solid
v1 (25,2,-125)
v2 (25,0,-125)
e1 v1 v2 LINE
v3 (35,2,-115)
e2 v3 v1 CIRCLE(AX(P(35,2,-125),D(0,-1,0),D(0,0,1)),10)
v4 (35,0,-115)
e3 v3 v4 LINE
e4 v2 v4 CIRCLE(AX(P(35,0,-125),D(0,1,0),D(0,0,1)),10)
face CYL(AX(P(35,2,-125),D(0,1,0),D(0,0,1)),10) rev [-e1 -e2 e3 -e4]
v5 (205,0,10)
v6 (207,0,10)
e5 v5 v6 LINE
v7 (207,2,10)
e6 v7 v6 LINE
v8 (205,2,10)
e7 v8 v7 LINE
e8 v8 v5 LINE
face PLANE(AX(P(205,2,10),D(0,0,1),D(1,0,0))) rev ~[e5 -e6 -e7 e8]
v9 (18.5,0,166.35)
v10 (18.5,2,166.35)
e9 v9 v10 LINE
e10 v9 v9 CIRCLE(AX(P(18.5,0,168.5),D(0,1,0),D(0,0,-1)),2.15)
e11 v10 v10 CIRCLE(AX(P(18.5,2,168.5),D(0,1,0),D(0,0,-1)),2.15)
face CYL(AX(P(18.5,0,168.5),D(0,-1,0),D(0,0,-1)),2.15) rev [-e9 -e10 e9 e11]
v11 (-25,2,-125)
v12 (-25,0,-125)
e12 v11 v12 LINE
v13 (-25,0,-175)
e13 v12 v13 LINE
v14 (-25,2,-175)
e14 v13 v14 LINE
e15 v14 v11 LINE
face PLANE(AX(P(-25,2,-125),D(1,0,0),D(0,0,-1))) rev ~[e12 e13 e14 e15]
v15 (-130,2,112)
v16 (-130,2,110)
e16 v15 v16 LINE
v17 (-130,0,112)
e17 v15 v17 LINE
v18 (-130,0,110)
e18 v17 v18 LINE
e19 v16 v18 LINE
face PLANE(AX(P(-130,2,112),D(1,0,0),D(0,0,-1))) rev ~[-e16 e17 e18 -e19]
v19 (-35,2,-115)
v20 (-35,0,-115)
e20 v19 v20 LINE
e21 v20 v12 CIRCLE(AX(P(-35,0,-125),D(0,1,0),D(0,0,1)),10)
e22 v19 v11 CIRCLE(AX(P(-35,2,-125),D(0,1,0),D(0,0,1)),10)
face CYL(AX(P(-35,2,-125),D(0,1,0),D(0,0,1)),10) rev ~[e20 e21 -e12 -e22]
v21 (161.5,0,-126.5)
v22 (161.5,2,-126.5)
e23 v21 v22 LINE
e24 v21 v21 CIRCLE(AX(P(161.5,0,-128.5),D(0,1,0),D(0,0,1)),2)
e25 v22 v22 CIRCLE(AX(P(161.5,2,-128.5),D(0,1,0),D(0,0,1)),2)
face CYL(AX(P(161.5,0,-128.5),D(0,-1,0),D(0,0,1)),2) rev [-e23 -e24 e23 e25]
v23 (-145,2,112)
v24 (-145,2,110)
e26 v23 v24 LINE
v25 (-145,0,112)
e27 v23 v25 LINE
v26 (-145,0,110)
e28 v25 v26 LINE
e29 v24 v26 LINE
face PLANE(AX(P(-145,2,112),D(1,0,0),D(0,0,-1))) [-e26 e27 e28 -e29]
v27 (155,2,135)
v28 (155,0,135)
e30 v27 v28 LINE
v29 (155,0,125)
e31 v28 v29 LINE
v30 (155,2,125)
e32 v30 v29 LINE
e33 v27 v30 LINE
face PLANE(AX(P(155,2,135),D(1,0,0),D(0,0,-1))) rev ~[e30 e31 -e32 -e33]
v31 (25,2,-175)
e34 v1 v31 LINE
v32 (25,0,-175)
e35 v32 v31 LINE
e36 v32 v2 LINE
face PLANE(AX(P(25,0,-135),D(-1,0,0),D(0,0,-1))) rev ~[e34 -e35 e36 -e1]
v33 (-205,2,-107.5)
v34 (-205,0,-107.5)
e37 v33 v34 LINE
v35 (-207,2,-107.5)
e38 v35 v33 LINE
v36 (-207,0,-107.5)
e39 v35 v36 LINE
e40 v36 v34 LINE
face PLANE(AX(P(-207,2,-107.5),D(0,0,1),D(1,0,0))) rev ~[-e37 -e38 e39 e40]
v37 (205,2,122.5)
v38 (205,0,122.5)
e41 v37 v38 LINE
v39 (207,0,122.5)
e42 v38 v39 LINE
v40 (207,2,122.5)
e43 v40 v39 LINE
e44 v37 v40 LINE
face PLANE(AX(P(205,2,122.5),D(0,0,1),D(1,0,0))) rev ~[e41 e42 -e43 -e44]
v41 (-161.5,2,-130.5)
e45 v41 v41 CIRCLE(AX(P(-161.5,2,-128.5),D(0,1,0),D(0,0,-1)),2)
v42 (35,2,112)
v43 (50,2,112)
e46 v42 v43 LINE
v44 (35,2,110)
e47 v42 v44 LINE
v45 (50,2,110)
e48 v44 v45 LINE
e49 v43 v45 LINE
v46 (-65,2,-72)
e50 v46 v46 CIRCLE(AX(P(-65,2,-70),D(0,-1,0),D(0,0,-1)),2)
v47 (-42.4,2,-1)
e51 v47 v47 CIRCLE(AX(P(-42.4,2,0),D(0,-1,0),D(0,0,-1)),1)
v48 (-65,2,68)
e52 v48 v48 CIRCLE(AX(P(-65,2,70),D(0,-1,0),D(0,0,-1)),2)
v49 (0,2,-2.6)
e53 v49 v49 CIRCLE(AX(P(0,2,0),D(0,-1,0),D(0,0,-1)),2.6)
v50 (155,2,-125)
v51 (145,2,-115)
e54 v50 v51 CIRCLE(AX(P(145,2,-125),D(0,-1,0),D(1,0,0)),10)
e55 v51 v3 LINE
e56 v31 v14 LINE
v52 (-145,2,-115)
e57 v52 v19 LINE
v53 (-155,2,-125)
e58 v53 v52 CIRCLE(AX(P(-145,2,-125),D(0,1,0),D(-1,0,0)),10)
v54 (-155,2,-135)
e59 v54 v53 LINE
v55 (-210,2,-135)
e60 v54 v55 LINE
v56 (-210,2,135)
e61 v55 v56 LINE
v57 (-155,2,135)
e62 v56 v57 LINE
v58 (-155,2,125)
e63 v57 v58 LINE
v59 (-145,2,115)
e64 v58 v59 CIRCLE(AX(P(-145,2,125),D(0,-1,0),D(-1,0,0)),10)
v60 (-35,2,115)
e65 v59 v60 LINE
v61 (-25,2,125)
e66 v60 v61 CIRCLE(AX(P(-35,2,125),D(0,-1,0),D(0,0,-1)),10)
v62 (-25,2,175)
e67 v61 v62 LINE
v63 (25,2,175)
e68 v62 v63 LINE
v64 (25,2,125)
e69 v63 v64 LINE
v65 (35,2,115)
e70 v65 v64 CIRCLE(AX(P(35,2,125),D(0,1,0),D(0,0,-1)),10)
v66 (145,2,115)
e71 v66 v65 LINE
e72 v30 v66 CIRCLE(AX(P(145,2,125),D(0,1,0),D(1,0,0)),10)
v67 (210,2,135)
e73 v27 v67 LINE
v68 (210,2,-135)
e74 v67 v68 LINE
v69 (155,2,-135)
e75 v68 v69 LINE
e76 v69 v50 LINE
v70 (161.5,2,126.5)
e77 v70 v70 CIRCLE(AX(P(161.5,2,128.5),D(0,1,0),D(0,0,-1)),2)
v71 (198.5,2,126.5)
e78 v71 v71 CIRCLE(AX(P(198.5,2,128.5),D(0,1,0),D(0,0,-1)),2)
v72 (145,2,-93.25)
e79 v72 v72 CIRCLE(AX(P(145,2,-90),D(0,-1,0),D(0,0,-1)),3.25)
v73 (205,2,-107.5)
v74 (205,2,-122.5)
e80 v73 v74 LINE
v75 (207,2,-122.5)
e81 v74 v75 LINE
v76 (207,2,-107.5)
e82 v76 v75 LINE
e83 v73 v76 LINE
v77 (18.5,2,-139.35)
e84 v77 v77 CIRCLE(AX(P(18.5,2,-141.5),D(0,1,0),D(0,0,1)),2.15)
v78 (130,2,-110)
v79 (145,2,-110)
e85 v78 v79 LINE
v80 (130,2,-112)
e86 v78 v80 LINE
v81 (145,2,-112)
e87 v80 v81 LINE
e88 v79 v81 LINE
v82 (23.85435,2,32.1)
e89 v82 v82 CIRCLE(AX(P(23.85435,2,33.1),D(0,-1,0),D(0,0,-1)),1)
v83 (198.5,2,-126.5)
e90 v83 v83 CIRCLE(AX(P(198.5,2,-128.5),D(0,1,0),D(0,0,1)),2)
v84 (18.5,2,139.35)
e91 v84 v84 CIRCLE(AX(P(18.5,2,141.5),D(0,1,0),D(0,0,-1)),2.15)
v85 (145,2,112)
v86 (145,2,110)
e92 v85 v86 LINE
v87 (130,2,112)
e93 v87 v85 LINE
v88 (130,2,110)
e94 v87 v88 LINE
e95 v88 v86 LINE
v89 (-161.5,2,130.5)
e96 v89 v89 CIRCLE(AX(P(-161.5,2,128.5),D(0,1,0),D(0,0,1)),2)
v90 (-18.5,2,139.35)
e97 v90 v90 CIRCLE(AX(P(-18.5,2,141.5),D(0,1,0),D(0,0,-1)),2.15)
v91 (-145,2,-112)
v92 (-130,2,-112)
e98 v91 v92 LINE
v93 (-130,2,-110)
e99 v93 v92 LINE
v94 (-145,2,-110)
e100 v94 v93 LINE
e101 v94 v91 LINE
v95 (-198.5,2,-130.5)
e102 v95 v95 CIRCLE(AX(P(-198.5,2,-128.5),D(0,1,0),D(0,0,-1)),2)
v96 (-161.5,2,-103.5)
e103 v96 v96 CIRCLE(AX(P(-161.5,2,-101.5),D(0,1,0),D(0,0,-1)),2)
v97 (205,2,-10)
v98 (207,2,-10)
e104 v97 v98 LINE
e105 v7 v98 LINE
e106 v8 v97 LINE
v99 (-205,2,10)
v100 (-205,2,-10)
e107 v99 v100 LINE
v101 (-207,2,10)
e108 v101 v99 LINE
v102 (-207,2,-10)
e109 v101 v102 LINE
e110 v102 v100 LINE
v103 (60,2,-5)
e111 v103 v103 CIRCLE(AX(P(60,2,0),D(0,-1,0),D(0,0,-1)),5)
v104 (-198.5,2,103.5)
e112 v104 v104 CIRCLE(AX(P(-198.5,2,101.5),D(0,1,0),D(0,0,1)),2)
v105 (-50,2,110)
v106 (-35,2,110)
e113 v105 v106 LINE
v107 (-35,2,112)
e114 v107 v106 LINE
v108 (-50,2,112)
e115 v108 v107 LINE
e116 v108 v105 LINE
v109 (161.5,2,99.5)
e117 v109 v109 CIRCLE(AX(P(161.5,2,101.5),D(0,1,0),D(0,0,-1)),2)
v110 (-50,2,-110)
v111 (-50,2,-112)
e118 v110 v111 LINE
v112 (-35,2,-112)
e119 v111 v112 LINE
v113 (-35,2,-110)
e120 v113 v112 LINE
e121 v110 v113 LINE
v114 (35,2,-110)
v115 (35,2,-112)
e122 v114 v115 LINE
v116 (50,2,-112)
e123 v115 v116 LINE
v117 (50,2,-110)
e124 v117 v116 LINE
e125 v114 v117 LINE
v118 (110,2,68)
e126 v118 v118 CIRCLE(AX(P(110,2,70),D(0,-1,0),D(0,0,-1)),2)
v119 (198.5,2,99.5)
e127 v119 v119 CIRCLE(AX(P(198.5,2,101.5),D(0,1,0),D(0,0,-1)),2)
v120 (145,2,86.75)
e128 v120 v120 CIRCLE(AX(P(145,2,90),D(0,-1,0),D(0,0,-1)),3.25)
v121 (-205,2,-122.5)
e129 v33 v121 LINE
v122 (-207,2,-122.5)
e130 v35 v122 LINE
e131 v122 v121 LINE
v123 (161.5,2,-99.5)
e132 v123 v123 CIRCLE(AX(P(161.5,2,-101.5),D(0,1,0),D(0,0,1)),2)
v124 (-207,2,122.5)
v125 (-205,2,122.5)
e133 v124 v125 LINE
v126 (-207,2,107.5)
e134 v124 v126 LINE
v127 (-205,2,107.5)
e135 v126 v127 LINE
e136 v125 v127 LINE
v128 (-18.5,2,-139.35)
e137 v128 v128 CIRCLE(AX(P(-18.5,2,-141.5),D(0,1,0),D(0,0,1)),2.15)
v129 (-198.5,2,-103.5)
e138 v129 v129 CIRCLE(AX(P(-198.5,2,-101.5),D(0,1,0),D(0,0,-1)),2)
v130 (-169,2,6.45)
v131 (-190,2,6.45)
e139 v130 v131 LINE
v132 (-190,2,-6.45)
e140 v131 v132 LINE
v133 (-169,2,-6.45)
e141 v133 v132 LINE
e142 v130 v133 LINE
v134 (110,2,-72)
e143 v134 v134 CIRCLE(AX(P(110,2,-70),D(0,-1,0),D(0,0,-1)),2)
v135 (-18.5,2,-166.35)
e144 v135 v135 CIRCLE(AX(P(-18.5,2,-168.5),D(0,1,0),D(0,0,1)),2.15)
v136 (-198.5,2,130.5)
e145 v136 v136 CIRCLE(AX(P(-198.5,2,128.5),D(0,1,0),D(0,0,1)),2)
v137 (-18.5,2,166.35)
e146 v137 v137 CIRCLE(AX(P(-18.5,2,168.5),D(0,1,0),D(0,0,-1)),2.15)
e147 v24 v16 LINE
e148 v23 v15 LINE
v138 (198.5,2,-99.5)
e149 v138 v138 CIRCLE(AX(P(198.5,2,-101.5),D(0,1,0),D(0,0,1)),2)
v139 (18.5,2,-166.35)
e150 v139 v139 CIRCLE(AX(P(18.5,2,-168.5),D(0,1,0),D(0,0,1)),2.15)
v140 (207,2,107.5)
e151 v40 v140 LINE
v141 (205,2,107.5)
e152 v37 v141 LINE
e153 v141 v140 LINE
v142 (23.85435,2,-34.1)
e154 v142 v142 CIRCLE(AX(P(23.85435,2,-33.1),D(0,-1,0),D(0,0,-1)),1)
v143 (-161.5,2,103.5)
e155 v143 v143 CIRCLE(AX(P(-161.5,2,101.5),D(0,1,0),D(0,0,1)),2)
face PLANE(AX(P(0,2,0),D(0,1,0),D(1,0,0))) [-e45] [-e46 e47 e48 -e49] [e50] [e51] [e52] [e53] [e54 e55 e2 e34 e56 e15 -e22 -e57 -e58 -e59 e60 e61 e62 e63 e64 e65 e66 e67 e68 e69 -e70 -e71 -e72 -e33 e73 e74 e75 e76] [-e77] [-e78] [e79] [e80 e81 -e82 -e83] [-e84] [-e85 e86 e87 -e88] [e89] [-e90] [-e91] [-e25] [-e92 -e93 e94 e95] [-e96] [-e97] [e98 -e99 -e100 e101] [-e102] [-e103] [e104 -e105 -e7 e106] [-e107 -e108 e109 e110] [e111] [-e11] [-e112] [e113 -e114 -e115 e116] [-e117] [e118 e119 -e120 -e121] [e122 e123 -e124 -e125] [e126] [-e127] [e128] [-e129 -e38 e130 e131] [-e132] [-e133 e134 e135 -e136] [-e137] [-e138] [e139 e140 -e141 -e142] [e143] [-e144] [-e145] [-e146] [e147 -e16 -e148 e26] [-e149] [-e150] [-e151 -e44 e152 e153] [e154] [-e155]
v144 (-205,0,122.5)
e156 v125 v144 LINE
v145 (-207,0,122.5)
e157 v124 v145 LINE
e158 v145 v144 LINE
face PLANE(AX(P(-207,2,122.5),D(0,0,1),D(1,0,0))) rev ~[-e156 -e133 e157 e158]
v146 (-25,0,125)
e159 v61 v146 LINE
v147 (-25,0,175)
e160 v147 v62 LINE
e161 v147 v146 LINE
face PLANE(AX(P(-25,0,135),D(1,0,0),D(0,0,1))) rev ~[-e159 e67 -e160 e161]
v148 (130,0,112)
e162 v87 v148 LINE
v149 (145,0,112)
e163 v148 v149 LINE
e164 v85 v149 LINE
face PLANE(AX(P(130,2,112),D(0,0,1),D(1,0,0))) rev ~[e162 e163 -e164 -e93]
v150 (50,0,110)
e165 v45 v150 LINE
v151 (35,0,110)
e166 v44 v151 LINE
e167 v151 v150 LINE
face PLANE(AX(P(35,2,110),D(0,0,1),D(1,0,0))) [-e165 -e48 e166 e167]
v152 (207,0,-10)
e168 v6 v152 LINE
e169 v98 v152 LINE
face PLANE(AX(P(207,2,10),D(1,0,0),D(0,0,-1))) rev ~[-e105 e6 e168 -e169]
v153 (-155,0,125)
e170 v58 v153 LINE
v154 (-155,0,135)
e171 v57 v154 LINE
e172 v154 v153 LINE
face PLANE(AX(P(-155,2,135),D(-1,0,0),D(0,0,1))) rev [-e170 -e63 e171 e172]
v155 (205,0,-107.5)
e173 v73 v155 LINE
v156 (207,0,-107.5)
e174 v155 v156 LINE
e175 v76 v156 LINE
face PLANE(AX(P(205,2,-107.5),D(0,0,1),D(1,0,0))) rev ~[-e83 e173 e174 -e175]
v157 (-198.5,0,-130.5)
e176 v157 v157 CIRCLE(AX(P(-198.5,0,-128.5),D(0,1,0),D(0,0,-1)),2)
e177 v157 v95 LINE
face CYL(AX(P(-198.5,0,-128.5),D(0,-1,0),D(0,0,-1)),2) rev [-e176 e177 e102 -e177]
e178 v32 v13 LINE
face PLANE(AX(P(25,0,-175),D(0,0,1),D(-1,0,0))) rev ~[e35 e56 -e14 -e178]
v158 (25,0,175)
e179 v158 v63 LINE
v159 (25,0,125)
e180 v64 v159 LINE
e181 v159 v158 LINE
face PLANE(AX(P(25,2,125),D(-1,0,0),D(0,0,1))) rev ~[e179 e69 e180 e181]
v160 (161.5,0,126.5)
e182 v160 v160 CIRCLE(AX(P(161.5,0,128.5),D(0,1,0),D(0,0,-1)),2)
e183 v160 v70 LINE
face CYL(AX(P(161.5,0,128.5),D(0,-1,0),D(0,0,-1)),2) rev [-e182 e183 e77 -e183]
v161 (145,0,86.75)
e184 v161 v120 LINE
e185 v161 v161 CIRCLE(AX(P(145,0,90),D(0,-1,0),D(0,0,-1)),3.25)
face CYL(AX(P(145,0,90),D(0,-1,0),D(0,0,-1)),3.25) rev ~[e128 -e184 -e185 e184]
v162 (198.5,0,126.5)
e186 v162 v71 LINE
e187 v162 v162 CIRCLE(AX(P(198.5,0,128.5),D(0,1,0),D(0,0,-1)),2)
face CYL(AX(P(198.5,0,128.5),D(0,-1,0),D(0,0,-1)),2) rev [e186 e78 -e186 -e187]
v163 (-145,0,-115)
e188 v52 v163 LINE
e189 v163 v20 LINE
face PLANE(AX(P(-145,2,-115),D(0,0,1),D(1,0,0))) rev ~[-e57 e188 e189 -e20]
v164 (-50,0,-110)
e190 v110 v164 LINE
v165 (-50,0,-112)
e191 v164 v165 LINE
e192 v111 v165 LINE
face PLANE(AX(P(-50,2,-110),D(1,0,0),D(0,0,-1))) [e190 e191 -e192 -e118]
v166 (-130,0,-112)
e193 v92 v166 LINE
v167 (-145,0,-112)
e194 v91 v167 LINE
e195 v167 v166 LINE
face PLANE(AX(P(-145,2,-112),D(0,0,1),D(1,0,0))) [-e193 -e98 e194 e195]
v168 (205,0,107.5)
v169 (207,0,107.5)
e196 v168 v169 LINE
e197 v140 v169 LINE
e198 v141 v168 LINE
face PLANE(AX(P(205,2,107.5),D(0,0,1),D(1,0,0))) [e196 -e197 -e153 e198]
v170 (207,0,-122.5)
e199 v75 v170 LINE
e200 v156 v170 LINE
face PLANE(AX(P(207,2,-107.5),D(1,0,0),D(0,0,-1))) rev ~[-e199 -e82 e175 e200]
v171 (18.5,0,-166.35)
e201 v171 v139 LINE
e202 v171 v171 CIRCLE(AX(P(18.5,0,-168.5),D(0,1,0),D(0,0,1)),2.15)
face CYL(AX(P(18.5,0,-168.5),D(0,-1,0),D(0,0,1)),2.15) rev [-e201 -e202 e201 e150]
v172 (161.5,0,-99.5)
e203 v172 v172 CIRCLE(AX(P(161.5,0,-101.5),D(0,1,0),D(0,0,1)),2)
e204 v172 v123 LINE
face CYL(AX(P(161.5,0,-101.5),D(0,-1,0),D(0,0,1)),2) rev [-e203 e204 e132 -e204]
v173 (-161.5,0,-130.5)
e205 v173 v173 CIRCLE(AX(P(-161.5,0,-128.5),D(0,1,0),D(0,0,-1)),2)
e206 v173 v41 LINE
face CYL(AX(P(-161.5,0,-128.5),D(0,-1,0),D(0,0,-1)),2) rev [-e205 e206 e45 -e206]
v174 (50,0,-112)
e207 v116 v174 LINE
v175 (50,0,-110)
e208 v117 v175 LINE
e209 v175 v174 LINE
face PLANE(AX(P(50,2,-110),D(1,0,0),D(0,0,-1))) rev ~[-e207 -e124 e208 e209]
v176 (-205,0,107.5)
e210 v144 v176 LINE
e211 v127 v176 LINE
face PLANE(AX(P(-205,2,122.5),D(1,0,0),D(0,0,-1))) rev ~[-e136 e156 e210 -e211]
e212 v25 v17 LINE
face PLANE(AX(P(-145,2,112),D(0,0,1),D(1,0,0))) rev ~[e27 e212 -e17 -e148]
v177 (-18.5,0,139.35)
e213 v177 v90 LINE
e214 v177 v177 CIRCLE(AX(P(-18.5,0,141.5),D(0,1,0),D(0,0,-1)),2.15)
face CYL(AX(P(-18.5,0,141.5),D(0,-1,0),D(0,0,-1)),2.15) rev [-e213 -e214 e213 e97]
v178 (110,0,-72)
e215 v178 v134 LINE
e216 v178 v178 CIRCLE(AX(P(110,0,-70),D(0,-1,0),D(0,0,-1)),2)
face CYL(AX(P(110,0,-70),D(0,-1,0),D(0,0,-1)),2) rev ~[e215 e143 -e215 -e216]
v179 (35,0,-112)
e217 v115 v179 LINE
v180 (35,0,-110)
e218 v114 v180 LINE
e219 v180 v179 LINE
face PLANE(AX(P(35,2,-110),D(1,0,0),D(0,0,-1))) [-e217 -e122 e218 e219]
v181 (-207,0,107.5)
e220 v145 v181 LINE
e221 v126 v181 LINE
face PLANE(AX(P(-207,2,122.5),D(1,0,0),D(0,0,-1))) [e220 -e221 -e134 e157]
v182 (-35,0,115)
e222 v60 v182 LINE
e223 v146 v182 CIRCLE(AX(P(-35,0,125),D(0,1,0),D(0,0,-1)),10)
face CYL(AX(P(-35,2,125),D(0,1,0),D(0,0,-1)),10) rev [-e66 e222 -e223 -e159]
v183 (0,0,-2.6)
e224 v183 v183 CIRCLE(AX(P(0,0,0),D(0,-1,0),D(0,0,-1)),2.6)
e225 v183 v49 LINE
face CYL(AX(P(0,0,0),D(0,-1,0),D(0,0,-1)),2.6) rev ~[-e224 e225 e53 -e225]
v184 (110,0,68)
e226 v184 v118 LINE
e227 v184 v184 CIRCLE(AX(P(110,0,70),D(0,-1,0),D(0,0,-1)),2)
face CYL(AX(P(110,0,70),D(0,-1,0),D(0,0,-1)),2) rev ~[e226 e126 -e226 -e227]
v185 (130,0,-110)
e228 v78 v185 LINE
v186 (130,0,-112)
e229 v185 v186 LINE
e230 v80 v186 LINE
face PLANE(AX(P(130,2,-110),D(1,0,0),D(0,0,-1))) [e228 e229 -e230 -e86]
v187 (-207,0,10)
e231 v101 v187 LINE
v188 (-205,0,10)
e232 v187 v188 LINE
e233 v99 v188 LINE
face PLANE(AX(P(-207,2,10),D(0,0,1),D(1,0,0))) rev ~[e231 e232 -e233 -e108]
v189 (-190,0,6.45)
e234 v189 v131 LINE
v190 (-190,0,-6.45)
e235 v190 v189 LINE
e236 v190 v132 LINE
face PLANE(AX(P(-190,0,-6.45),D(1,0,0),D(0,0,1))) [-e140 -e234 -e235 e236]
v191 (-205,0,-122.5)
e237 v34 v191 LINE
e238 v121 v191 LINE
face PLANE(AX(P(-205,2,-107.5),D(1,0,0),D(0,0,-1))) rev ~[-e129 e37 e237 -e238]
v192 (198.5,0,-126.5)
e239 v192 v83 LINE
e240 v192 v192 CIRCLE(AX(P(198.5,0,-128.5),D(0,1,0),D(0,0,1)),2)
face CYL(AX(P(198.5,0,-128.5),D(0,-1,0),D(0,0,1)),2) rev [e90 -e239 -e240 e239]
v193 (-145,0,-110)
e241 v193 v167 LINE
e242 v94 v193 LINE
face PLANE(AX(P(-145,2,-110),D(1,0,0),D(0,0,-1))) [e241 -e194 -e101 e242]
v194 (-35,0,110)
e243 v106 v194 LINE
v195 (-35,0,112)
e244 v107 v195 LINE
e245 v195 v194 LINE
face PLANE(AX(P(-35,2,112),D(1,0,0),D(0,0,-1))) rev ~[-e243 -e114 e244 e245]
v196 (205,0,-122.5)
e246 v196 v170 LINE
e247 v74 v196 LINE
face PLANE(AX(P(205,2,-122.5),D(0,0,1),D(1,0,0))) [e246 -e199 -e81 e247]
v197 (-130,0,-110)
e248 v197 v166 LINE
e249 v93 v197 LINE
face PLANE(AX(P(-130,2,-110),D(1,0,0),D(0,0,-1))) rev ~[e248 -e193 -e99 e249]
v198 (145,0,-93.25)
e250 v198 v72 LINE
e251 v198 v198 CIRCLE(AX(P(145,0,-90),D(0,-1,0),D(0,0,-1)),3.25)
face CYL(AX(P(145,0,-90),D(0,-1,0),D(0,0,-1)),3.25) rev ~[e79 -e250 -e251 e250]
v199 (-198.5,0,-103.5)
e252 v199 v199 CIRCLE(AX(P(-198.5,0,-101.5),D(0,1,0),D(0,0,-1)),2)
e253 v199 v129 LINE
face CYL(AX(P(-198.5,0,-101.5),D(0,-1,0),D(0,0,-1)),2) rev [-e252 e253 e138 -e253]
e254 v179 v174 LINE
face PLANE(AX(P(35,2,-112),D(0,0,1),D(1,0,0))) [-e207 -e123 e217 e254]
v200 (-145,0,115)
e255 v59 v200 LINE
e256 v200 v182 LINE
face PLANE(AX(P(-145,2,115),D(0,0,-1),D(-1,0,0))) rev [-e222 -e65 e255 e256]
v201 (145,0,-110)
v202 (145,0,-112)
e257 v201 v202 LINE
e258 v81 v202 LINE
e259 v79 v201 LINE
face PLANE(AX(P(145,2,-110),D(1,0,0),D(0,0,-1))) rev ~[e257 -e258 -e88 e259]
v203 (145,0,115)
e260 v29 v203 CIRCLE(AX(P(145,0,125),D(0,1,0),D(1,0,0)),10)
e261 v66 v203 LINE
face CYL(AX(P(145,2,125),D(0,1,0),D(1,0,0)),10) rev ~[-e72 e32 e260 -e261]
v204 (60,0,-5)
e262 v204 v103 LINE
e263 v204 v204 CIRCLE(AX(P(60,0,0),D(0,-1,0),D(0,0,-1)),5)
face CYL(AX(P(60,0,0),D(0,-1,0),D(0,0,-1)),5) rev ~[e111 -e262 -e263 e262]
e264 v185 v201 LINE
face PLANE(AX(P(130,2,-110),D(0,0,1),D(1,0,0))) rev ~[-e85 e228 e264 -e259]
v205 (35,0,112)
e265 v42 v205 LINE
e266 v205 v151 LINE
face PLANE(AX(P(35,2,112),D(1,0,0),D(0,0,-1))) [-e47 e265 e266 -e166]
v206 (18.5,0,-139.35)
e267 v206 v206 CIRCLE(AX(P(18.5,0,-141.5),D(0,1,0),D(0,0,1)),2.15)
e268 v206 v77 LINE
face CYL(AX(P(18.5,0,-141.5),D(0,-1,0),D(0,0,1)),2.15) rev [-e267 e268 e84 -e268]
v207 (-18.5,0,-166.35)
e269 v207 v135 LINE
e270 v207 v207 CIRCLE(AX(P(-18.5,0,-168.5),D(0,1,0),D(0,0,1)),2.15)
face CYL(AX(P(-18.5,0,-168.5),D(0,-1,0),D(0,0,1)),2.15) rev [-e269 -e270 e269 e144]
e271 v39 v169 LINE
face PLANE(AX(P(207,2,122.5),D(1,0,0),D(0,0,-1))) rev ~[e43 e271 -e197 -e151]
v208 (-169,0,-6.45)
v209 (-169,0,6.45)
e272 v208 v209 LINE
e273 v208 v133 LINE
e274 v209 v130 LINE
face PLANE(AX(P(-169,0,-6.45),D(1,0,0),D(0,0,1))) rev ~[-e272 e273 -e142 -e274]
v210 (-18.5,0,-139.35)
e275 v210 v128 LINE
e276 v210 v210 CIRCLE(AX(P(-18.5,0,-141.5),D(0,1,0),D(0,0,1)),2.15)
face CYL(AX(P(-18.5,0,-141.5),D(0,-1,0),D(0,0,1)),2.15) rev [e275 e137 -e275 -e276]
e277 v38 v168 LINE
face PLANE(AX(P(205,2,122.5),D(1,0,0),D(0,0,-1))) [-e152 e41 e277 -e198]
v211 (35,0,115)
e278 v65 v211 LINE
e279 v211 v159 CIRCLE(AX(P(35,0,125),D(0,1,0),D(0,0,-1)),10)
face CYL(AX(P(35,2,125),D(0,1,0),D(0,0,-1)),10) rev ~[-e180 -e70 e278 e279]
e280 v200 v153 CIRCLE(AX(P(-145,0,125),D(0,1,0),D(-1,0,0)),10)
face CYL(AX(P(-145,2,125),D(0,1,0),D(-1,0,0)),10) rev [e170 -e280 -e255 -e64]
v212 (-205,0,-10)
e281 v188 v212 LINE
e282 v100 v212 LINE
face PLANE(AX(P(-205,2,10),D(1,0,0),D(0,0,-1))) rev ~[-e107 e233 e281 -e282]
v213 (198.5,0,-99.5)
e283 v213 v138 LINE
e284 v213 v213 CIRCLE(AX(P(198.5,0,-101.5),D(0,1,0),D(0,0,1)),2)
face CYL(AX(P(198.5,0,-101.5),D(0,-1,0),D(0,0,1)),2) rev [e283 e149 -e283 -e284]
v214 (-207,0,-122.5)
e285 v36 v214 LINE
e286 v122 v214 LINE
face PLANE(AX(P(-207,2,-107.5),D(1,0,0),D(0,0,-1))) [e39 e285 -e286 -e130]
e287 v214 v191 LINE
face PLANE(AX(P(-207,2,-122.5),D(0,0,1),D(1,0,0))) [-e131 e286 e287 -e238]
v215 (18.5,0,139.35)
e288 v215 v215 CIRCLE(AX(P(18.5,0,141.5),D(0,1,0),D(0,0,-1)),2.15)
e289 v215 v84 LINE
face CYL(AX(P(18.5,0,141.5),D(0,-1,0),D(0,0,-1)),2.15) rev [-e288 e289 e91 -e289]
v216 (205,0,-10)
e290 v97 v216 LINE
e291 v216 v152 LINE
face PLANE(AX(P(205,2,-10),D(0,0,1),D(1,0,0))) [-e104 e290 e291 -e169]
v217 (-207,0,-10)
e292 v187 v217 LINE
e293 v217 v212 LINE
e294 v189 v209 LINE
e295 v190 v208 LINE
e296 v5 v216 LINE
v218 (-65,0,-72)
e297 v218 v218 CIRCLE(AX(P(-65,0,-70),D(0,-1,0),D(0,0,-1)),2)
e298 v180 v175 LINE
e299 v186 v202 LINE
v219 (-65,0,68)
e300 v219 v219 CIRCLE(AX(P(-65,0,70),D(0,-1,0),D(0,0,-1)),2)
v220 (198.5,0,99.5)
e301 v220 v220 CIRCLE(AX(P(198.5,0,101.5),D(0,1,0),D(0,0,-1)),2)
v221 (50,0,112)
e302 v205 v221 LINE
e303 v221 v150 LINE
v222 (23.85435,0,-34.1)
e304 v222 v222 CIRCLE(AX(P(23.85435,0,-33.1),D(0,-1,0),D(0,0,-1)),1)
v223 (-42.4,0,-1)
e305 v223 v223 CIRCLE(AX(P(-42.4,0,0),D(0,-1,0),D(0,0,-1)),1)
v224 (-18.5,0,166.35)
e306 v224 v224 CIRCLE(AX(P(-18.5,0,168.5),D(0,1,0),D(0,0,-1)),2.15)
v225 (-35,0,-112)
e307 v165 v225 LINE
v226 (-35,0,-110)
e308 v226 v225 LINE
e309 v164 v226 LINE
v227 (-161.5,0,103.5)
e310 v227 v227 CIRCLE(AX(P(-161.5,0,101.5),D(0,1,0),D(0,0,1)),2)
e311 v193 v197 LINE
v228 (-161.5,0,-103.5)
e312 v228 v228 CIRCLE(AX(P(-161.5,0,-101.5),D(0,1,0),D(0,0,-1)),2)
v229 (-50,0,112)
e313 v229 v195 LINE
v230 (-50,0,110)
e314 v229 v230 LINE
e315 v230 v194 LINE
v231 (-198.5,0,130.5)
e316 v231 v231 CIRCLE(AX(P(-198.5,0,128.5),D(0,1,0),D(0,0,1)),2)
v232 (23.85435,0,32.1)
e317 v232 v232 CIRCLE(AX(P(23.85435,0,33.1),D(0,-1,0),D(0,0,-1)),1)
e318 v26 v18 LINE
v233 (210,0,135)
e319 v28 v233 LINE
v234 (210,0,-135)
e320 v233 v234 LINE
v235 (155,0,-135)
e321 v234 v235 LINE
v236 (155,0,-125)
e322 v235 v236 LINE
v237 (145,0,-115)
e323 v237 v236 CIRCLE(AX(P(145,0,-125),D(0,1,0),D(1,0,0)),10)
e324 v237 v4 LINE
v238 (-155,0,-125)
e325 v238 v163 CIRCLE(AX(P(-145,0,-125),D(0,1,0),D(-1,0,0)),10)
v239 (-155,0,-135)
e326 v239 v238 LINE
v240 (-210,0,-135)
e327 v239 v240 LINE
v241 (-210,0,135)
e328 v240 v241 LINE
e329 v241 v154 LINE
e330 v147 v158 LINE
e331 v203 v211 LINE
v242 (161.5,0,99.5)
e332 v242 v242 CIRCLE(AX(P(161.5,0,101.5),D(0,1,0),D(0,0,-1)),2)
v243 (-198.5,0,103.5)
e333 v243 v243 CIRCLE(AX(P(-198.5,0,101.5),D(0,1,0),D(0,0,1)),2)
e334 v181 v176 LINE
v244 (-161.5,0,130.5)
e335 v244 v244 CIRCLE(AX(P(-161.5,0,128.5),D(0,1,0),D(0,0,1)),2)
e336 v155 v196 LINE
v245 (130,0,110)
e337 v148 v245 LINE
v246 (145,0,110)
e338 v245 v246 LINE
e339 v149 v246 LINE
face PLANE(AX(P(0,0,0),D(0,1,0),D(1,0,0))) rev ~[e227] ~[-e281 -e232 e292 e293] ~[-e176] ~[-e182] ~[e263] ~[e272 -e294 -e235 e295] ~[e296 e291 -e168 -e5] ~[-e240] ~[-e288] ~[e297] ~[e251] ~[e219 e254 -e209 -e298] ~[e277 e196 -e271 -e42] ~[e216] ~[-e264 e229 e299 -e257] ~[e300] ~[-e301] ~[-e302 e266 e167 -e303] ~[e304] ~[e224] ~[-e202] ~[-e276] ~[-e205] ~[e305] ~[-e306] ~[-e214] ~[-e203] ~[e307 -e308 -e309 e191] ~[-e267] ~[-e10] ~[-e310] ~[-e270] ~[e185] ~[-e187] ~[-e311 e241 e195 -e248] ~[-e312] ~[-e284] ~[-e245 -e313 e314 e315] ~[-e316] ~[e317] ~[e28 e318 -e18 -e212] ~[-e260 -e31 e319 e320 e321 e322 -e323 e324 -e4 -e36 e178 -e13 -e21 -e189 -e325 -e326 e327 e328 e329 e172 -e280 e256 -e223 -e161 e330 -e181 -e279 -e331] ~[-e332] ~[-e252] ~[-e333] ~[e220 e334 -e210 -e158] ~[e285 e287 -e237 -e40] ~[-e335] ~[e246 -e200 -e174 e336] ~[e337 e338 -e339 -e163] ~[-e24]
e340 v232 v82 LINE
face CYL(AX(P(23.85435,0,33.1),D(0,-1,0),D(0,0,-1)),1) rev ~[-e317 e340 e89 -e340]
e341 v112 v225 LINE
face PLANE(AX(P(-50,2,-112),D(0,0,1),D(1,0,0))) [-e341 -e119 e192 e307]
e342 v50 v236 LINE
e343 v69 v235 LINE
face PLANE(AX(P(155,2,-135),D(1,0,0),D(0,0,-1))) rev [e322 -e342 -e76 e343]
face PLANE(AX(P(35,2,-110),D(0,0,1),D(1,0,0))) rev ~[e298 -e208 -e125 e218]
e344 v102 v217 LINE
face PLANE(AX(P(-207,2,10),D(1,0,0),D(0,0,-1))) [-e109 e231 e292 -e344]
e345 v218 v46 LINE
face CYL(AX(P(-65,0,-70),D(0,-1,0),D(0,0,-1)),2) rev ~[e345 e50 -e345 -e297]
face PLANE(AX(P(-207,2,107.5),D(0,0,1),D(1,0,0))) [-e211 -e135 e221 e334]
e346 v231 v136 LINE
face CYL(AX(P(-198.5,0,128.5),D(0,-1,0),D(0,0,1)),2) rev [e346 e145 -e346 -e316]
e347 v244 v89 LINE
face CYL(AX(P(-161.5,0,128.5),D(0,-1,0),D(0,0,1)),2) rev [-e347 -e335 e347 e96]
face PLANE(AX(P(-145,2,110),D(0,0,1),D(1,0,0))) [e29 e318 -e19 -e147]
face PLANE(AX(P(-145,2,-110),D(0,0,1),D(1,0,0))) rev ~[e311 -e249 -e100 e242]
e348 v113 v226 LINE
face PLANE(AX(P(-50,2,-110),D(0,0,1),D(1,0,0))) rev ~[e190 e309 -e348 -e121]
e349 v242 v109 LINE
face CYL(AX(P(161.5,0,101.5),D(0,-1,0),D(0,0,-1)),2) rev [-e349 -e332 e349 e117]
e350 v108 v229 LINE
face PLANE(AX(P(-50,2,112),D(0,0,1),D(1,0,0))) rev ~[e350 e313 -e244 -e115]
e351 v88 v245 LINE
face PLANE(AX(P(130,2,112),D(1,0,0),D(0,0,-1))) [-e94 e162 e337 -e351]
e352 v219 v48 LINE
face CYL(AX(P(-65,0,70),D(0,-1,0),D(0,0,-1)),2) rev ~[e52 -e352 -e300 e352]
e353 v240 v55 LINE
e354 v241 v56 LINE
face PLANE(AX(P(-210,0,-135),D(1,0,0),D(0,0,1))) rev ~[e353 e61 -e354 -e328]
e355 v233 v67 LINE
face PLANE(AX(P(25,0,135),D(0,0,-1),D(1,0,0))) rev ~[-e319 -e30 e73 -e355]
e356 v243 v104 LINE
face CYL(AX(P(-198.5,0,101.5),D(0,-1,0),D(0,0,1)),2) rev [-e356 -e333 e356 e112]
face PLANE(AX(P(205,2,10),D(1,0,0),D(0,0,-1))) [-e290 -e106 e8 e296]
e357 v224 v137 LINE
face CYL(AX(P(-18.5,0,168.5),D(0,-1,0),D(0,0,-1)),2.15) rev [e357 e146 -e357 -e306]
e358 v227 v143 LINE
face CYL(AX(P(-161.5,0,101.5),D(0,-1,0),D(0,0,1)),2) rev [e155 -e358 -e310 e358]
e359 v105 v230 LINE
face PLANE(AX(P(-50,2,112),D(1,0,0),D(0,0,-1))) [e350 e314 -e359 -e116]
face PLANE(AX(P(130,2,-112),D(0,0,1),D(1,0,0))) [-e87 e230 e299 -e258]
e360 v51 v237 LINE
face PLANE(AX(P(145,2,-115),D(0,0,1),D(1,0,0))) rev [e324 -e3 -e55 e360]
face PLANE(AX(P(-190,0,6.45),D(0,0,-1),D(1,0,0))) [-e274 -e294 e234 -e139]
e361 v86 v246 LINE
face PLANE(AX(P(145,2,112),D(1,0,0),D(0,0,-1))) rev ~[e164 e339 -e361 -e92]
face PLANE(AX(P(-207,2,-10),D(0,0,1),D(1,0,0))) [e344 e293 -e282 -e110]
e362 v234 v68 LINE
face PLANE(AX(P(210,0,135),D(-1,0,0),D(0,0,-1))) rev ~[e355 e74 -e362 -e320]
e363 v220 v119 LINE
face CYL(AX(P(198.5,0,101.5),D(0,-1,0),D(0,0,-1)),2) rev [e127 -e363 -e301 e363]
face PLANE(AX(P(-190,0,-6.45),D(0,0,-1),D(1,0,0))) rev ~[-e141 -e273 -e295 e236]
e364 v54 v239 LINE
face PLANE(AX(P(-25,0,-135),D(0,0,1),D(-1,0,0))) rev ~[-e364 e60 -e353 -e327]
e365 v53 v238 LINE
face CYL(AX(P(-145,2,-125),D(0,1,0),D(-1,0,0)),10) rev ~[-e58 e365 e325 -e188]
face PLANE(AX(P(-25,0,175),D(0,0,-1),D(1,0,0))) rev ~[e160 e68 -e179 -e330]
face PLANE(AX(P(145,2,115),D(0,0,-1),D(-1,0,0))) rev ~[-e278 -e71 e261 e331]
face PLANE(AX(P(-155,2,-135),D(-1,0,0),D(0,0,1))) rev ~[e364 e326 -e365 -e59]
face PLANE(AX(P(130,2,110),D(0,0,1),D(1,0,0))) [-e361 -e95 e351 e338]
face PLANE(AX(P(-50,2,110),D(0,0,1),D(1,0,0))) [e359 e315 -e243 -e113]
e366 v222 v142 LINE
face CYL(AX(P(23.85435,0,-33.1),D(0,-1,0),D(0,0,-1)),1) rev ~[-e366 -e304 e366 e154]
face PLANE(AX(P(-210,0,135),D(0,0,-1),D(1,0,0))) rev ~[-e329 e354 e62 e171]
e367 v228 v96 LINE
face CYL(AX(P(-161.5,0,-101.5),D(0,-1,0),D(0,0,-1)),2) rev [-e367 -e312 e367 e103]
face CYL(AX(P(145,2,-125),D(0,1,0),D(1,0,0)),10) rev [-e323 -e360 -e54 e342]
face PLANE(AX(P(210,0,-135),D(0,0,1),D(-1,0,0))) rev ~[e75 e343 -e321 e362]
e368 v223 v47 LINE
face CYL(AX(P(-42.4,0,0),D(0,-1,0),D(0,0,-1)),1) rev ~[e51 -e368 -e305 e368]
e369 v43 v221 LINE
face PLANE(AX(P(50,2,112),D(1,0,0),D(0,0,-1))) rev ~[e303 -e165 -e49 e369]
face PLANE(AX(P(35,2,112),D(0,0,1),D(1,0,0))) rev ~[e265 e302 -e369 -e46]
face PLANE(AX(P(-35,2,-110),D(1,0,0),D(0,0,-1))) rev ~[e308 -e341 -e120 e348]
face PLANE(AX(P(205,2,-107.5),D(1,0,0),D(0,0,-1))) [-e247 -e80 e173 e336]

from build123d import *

# Parameters (mm, degrees)
SKETCH_1_R            = 2
SKETCH_1_R_2          = 2.15
EXTRUDE_1_DEPTH       = 2
CUT_EXTRUDE_1_DEPTH   = 274.366054952
MIRROR_2_COPY_1_DEPTH = 274.366054952
SKETCH_3_W            = 2
SKETCH_3_H            = 15
SKETCH_3_H_2          = 20
SKETCH_3_W_2          = 15
SKETCH_3_H_3          = 2
CUT_EXTRUDE_2_DEPTH   = 274.366054952
SKETCH_4_R            = 2.6
SKETCH_4_R_2          = 1
SKETCH_4_R_3          = 2
SKETCH_4_R_4          = 3.25
SKETCH_4_R_5          = 5
SKETCH_4_W            = 21
SKETCH_4_H            = 12.9
CUT_EXTRUDE_3_DEPTH   = 274.366054952


with BuildPart() as part:
    # 草图1 → 凸台-拉伸1 (new body)
    with BuildSketch(Plane(origin=(0, 0, 0), x_dir=(1, 0, 0), z_dir=(0, 1, 0))):
        Polygon((-210, -135), (-25, -135), (-25, -175), (25, -175), (25, -135), (210, -135), (210, 135), (25, 135), (25, 175), (-25, 175), (-25, 135), (-210, 135), align=None)
        with Locations(Location((198.5, 128.5, 0), (0, 0, 270))):
            Circle(SKETCH_1_R, mode=Mode.SUBTRACT)
        with Locations(Location((198.5, 101.5, 0), (0, 0, 270))):
            Circle(SKETCH_1_R, mode=Mode.SUBTRACT)
        with Locations(Location((161.5, 101.5, 0), (0, 0, 270))):
            Circle(SKETCH_1_R, mode=Mode.SUBTRACT)
        with Locations(Location((161.5, 128.5, 0), (0, 0, 270))):
            Circle(SKETCH_1_R, mode=Mode.SUBTRACT)
        with Locations(Location((198.5, -128.5, 0), (0, 0, 90))):
            Circle(SKETCH_1_R, mode=Mode.SUBTRACT)
        with Locations(Location((198.5, -101.5, 0), (0, 0, 90))):
            Circle(SKETCH_1_R, mode=Mode.SUBTRACT)
        with Locations(Location((161.5, -101.5, 0), (0, 0, 90))):
            Circle(SKETCH_1_R, mode=Mode.SUBTRACT)
        with Locations(Location((161.5, -128.5, 0), (0, 0, 90))):
            Circle(SKETCH_1_R, mode=Mode.SUBTRACT)
        with Locations(Location((-161.5, 128.5, 0), (0, 0, 90))):
            Circle(SKETCH_1_R, mode=Mode.SUBTRACT)
        with Locations(Location((-161.5, 101.5, 0), (0, 0, 90))):
            Circle(SKETCH_1_R, mode=Mode.SUBTRACT)
        with Locations(Location((-198.5, 101.5, 0), (0, 0, 90))):
            Circle(SKETCH_1_R, mode=Mode.SUBTRACT)
        with Locations(Location((-198.5, 128.5, 0), (0, 0, 90))):
            Circle(SKETCH_1_R, mode=Mode.SUBTRACT)
        with Locations(Location((-161.5, -128.5, 0), (0, 0, 270))):
            Circle(SKETCH_1_R, mode=Mode.SUBTRACT)
        with Locations(Location((-161.5, -101.5, 0), (0, 0, 270))):
            Circle(SKETCH_1_R, mode=Mode.SUBTRACT)
        with Locations(Location((-198.5, -101.5, 0), (0, 0, 270))):
            Circle(SKETCH_1_R, mode=Mode.SUBTRACT)
        with Locations(Location((-198.5, -128.5, 0), (0, 0, 270))):
            Circle(SKETCH_1_R, mode=Mode.SUBTRACT)
        with Locations(Location((18.5, 168.5, 0), (0, 0, 270))):
            Circle(SKETCH_1_R_2, mode=Mode.SUBTRACT)
        with Locations(Location((-18.5, 168.5, 0), (0, 0, 270))):
            Circle(SKETCH_1_R_2, mode=Mode.SUBTRACT)
        with Locations(Location((-18.5, 141.5, 0), (0, 0, 270))):
            Circle(SKETCH_1_R_2, mode=Mode.SUBTRACT)
        with Locations(Location((18.5, 141.5, 0), (0, 0, 270))):
            Circle(SKETCH_1_R_2, mode=Mode.SUBTRACT)
        with Locations(Location((-18.5, -141.5, 0), (0, 0, 90))):
            Circle(SKETCH_1_R_2, mode=Mode.SUBTRACT)
        with Locations(Location((18.5, -141.5, 0), (0, 0, 90))):
            Circle(SKETCH_1_R_2, mode=Mode.SUBTRACT)
        with Locations(Location((18.5, -168.5, 0), (0, 0, 90))):
            Circle(SKETCH_1_R_2, mode=Mode.SUBTRACT)
        with Locations(Location((-18.5, -168.5, 0), (0, 0, 90))):
            Circle(SKETCH_1_R_2, mode=Mode.SUBTRACT)
    extrude(amount=EXTRUDE_1_DEPTH)

    # 草图2 → 切除-拉伸1 (cut, through all)
    with BuildSketch(Plane(origin=(0, 2, 0), x_dir=(1, 0, 0), z_dir=(0, 1, 0))):
        with BuildLine():
            Line((-25, 135), (-155, 135))
            Line((-155, 135), (-155, 125))
            ThreePointArc((-155, 125), (-152.071067812, 117.928932188), (-145, 115))
            Line((-145, 115), (-35, 115))
            ThreePointArc((-35, 115), (-27.928932188, 117.928932188), (-25, 125))
            Line((-25, 125), (-25, 135))
        make_face()
    cut_extrude_1 = extrude(amount=-CUT_EXTRUDE_1_DEPTH, mode=Mode.SUBTRACT)

    # 镜向1: 切除-拉伸1 across plane
    add(cut_extrude_1.mirror(Plane.XY), mode=Mode.SUBTRACT)

    # 镜向2: 切除-拉伸1 across plane
    add(cut_extrude_1.mirror(Plane(origin=(0, 0, 0), x_dir=(0, 0, 1), z_dir=(1, 0, 0))), mode=Mode.SUBTRACT)

    # 镜向2 copy 1 sketch → 镜向2 copy 1 (cut, through all)
    with BuildSketch(Plane(origin=(0, 2, 0), x_dir=(-1, 0, 0), z_dir=(0, 1, 0))):
        with BuildLine():
            Line((-25, 135), (-155, 135))
            Line((-155, 135), (-155, 125))
            ThreePointArc((-155, 125), (-152.071067812, 117.928932188), (-145, 115))
            Line((-145, 115), (-35, 115))
            ThreePointArc((-35, 115), (-27.928932188, 117.928932188), (-25, 125))
            Line((-25, 125), (-25, 135))
        make_face()
    extrude(amount=-MIRROR_2_COPY_1_DEPTH, mode=Mode.SUBTRACT)

    # 草图3 → 切除-拉伸2 (cut, through all)
    with BuildSketch(Plane(origin=(0, 2, 0), x_dir=(1, 0, 0), z_dir=(0, 1, 0))):
        with Locations((-206, 115)):
            Rectangle(SKETCH_3_W, SKETCH_3_H)
        with Locations((-206, 0)):
            Rectangle(SKETCH_3_W, SKETCH_3_H_2)
        with Locations((-206, -115)):
            Rectangle(SKETCH_3_W, SKETCH_3_H)
        with Locations((206, -115)):
            Rectangle(SKETCH_3_W, SKETCH_3_H)
        with Locations((206, 0)):
            Rectangle(SKETCH_3_W, SKETCH_3_H_2)
        with Locations((206, 115)):
            Rectangle(SKETCH_3_W, SKETCH_3_H)
        with Locations((-137.5, 111)):
            Rectangle(SKETCH_3_W_2, SKETCH_3_H_3)
        with Locations((-42.5, 111)):
            Rectangle(SKETCH_3_W_2, SKETCH_3_H_3)
        with Locations((42.5, 111)):
            Rectangle(SKETCH_3_W_2, SKETCH_3_H_3)
        with Locations((137.5, 111)):
            Rectangle(SKETCH_3_W_2, SKETCH_3_H_3)
        with Locations((137.5, -111)):
            Rectangle(SKETCH_3_W_2, SKETCH_3_H_3)
        with Locations((42.5, -111)):
            Rectangle(SKETCH_3_W_2, SKETCH_3_H_3)
        with Locations((-42.5, -111)):
            Rectangle(SKETCH_3_W_2, SKETCH_3_H_3)
        with Locations((-137.5, -111)):
            Rectangle(SKETCH_3_W_2, SKETCH_3_H_3)
    extrude(amount=-CUT_EXTRUDE_2_DEPTH, mode=Mode.SUBTRACT)

    # 草图4 → 切除-拉伸3 (cut, through all)
    with BuildSketch(Plane.XZ):
        with Locations(Location((0, 0, 0), (0, 0, 270))):
            Circle(SKETCH_4_R)
        with Locations(Location((23.854349708, 33.1, 0), (0, 0, 270))):
            Circle(SKETCH_4_R_2)
        with Locations(Location((23.854349708, -33.1, 0), (0, 0, 270))):
            Circle(SKETCH_4_R_2)
        with Locations(Location((-42.4, 0, 0), (0, 0, 270))):
            Circle(SKETCH_4_R_2)
        with Locations(Location((-65, 70, 0), (0, 0, 270))):
            Circle(SKETCH_4_R_3)
        with Locations(Location((110, 70, 0), (0, 0, 270))):
            Circle(SKETCH_4_R_3)
        with Locations(Location((-65, -70, 0), (0, 0, 270))):
            Circle(SKETCH_4_R_3)
        with Locations(Location((110, -70, 0), (0, 0, 270))):
            Circle(SKETCH_4_R_3)
        with Locations(Location((145, -90, 0), (0, 0, 270))):
            Circle(SKETCH_4_R_4)
        with Locations(Location((145, 90, 0), (0, 0, 270))):
            Circle(SKETCH_4_R_4)
        with Locations(Location((60, 0, 0), (0, 0, 270))):
            Circle(SKETCH_4_R_5)
        with Locations((-179.5, 0)):
            Rectangle(SKETCH_4_W, SKETCH_4_H)
    extrude(amount=-CUT_EXTRUDE_3_DEPTH, mode=Mode.SUBTRACT)


solid = part.part
